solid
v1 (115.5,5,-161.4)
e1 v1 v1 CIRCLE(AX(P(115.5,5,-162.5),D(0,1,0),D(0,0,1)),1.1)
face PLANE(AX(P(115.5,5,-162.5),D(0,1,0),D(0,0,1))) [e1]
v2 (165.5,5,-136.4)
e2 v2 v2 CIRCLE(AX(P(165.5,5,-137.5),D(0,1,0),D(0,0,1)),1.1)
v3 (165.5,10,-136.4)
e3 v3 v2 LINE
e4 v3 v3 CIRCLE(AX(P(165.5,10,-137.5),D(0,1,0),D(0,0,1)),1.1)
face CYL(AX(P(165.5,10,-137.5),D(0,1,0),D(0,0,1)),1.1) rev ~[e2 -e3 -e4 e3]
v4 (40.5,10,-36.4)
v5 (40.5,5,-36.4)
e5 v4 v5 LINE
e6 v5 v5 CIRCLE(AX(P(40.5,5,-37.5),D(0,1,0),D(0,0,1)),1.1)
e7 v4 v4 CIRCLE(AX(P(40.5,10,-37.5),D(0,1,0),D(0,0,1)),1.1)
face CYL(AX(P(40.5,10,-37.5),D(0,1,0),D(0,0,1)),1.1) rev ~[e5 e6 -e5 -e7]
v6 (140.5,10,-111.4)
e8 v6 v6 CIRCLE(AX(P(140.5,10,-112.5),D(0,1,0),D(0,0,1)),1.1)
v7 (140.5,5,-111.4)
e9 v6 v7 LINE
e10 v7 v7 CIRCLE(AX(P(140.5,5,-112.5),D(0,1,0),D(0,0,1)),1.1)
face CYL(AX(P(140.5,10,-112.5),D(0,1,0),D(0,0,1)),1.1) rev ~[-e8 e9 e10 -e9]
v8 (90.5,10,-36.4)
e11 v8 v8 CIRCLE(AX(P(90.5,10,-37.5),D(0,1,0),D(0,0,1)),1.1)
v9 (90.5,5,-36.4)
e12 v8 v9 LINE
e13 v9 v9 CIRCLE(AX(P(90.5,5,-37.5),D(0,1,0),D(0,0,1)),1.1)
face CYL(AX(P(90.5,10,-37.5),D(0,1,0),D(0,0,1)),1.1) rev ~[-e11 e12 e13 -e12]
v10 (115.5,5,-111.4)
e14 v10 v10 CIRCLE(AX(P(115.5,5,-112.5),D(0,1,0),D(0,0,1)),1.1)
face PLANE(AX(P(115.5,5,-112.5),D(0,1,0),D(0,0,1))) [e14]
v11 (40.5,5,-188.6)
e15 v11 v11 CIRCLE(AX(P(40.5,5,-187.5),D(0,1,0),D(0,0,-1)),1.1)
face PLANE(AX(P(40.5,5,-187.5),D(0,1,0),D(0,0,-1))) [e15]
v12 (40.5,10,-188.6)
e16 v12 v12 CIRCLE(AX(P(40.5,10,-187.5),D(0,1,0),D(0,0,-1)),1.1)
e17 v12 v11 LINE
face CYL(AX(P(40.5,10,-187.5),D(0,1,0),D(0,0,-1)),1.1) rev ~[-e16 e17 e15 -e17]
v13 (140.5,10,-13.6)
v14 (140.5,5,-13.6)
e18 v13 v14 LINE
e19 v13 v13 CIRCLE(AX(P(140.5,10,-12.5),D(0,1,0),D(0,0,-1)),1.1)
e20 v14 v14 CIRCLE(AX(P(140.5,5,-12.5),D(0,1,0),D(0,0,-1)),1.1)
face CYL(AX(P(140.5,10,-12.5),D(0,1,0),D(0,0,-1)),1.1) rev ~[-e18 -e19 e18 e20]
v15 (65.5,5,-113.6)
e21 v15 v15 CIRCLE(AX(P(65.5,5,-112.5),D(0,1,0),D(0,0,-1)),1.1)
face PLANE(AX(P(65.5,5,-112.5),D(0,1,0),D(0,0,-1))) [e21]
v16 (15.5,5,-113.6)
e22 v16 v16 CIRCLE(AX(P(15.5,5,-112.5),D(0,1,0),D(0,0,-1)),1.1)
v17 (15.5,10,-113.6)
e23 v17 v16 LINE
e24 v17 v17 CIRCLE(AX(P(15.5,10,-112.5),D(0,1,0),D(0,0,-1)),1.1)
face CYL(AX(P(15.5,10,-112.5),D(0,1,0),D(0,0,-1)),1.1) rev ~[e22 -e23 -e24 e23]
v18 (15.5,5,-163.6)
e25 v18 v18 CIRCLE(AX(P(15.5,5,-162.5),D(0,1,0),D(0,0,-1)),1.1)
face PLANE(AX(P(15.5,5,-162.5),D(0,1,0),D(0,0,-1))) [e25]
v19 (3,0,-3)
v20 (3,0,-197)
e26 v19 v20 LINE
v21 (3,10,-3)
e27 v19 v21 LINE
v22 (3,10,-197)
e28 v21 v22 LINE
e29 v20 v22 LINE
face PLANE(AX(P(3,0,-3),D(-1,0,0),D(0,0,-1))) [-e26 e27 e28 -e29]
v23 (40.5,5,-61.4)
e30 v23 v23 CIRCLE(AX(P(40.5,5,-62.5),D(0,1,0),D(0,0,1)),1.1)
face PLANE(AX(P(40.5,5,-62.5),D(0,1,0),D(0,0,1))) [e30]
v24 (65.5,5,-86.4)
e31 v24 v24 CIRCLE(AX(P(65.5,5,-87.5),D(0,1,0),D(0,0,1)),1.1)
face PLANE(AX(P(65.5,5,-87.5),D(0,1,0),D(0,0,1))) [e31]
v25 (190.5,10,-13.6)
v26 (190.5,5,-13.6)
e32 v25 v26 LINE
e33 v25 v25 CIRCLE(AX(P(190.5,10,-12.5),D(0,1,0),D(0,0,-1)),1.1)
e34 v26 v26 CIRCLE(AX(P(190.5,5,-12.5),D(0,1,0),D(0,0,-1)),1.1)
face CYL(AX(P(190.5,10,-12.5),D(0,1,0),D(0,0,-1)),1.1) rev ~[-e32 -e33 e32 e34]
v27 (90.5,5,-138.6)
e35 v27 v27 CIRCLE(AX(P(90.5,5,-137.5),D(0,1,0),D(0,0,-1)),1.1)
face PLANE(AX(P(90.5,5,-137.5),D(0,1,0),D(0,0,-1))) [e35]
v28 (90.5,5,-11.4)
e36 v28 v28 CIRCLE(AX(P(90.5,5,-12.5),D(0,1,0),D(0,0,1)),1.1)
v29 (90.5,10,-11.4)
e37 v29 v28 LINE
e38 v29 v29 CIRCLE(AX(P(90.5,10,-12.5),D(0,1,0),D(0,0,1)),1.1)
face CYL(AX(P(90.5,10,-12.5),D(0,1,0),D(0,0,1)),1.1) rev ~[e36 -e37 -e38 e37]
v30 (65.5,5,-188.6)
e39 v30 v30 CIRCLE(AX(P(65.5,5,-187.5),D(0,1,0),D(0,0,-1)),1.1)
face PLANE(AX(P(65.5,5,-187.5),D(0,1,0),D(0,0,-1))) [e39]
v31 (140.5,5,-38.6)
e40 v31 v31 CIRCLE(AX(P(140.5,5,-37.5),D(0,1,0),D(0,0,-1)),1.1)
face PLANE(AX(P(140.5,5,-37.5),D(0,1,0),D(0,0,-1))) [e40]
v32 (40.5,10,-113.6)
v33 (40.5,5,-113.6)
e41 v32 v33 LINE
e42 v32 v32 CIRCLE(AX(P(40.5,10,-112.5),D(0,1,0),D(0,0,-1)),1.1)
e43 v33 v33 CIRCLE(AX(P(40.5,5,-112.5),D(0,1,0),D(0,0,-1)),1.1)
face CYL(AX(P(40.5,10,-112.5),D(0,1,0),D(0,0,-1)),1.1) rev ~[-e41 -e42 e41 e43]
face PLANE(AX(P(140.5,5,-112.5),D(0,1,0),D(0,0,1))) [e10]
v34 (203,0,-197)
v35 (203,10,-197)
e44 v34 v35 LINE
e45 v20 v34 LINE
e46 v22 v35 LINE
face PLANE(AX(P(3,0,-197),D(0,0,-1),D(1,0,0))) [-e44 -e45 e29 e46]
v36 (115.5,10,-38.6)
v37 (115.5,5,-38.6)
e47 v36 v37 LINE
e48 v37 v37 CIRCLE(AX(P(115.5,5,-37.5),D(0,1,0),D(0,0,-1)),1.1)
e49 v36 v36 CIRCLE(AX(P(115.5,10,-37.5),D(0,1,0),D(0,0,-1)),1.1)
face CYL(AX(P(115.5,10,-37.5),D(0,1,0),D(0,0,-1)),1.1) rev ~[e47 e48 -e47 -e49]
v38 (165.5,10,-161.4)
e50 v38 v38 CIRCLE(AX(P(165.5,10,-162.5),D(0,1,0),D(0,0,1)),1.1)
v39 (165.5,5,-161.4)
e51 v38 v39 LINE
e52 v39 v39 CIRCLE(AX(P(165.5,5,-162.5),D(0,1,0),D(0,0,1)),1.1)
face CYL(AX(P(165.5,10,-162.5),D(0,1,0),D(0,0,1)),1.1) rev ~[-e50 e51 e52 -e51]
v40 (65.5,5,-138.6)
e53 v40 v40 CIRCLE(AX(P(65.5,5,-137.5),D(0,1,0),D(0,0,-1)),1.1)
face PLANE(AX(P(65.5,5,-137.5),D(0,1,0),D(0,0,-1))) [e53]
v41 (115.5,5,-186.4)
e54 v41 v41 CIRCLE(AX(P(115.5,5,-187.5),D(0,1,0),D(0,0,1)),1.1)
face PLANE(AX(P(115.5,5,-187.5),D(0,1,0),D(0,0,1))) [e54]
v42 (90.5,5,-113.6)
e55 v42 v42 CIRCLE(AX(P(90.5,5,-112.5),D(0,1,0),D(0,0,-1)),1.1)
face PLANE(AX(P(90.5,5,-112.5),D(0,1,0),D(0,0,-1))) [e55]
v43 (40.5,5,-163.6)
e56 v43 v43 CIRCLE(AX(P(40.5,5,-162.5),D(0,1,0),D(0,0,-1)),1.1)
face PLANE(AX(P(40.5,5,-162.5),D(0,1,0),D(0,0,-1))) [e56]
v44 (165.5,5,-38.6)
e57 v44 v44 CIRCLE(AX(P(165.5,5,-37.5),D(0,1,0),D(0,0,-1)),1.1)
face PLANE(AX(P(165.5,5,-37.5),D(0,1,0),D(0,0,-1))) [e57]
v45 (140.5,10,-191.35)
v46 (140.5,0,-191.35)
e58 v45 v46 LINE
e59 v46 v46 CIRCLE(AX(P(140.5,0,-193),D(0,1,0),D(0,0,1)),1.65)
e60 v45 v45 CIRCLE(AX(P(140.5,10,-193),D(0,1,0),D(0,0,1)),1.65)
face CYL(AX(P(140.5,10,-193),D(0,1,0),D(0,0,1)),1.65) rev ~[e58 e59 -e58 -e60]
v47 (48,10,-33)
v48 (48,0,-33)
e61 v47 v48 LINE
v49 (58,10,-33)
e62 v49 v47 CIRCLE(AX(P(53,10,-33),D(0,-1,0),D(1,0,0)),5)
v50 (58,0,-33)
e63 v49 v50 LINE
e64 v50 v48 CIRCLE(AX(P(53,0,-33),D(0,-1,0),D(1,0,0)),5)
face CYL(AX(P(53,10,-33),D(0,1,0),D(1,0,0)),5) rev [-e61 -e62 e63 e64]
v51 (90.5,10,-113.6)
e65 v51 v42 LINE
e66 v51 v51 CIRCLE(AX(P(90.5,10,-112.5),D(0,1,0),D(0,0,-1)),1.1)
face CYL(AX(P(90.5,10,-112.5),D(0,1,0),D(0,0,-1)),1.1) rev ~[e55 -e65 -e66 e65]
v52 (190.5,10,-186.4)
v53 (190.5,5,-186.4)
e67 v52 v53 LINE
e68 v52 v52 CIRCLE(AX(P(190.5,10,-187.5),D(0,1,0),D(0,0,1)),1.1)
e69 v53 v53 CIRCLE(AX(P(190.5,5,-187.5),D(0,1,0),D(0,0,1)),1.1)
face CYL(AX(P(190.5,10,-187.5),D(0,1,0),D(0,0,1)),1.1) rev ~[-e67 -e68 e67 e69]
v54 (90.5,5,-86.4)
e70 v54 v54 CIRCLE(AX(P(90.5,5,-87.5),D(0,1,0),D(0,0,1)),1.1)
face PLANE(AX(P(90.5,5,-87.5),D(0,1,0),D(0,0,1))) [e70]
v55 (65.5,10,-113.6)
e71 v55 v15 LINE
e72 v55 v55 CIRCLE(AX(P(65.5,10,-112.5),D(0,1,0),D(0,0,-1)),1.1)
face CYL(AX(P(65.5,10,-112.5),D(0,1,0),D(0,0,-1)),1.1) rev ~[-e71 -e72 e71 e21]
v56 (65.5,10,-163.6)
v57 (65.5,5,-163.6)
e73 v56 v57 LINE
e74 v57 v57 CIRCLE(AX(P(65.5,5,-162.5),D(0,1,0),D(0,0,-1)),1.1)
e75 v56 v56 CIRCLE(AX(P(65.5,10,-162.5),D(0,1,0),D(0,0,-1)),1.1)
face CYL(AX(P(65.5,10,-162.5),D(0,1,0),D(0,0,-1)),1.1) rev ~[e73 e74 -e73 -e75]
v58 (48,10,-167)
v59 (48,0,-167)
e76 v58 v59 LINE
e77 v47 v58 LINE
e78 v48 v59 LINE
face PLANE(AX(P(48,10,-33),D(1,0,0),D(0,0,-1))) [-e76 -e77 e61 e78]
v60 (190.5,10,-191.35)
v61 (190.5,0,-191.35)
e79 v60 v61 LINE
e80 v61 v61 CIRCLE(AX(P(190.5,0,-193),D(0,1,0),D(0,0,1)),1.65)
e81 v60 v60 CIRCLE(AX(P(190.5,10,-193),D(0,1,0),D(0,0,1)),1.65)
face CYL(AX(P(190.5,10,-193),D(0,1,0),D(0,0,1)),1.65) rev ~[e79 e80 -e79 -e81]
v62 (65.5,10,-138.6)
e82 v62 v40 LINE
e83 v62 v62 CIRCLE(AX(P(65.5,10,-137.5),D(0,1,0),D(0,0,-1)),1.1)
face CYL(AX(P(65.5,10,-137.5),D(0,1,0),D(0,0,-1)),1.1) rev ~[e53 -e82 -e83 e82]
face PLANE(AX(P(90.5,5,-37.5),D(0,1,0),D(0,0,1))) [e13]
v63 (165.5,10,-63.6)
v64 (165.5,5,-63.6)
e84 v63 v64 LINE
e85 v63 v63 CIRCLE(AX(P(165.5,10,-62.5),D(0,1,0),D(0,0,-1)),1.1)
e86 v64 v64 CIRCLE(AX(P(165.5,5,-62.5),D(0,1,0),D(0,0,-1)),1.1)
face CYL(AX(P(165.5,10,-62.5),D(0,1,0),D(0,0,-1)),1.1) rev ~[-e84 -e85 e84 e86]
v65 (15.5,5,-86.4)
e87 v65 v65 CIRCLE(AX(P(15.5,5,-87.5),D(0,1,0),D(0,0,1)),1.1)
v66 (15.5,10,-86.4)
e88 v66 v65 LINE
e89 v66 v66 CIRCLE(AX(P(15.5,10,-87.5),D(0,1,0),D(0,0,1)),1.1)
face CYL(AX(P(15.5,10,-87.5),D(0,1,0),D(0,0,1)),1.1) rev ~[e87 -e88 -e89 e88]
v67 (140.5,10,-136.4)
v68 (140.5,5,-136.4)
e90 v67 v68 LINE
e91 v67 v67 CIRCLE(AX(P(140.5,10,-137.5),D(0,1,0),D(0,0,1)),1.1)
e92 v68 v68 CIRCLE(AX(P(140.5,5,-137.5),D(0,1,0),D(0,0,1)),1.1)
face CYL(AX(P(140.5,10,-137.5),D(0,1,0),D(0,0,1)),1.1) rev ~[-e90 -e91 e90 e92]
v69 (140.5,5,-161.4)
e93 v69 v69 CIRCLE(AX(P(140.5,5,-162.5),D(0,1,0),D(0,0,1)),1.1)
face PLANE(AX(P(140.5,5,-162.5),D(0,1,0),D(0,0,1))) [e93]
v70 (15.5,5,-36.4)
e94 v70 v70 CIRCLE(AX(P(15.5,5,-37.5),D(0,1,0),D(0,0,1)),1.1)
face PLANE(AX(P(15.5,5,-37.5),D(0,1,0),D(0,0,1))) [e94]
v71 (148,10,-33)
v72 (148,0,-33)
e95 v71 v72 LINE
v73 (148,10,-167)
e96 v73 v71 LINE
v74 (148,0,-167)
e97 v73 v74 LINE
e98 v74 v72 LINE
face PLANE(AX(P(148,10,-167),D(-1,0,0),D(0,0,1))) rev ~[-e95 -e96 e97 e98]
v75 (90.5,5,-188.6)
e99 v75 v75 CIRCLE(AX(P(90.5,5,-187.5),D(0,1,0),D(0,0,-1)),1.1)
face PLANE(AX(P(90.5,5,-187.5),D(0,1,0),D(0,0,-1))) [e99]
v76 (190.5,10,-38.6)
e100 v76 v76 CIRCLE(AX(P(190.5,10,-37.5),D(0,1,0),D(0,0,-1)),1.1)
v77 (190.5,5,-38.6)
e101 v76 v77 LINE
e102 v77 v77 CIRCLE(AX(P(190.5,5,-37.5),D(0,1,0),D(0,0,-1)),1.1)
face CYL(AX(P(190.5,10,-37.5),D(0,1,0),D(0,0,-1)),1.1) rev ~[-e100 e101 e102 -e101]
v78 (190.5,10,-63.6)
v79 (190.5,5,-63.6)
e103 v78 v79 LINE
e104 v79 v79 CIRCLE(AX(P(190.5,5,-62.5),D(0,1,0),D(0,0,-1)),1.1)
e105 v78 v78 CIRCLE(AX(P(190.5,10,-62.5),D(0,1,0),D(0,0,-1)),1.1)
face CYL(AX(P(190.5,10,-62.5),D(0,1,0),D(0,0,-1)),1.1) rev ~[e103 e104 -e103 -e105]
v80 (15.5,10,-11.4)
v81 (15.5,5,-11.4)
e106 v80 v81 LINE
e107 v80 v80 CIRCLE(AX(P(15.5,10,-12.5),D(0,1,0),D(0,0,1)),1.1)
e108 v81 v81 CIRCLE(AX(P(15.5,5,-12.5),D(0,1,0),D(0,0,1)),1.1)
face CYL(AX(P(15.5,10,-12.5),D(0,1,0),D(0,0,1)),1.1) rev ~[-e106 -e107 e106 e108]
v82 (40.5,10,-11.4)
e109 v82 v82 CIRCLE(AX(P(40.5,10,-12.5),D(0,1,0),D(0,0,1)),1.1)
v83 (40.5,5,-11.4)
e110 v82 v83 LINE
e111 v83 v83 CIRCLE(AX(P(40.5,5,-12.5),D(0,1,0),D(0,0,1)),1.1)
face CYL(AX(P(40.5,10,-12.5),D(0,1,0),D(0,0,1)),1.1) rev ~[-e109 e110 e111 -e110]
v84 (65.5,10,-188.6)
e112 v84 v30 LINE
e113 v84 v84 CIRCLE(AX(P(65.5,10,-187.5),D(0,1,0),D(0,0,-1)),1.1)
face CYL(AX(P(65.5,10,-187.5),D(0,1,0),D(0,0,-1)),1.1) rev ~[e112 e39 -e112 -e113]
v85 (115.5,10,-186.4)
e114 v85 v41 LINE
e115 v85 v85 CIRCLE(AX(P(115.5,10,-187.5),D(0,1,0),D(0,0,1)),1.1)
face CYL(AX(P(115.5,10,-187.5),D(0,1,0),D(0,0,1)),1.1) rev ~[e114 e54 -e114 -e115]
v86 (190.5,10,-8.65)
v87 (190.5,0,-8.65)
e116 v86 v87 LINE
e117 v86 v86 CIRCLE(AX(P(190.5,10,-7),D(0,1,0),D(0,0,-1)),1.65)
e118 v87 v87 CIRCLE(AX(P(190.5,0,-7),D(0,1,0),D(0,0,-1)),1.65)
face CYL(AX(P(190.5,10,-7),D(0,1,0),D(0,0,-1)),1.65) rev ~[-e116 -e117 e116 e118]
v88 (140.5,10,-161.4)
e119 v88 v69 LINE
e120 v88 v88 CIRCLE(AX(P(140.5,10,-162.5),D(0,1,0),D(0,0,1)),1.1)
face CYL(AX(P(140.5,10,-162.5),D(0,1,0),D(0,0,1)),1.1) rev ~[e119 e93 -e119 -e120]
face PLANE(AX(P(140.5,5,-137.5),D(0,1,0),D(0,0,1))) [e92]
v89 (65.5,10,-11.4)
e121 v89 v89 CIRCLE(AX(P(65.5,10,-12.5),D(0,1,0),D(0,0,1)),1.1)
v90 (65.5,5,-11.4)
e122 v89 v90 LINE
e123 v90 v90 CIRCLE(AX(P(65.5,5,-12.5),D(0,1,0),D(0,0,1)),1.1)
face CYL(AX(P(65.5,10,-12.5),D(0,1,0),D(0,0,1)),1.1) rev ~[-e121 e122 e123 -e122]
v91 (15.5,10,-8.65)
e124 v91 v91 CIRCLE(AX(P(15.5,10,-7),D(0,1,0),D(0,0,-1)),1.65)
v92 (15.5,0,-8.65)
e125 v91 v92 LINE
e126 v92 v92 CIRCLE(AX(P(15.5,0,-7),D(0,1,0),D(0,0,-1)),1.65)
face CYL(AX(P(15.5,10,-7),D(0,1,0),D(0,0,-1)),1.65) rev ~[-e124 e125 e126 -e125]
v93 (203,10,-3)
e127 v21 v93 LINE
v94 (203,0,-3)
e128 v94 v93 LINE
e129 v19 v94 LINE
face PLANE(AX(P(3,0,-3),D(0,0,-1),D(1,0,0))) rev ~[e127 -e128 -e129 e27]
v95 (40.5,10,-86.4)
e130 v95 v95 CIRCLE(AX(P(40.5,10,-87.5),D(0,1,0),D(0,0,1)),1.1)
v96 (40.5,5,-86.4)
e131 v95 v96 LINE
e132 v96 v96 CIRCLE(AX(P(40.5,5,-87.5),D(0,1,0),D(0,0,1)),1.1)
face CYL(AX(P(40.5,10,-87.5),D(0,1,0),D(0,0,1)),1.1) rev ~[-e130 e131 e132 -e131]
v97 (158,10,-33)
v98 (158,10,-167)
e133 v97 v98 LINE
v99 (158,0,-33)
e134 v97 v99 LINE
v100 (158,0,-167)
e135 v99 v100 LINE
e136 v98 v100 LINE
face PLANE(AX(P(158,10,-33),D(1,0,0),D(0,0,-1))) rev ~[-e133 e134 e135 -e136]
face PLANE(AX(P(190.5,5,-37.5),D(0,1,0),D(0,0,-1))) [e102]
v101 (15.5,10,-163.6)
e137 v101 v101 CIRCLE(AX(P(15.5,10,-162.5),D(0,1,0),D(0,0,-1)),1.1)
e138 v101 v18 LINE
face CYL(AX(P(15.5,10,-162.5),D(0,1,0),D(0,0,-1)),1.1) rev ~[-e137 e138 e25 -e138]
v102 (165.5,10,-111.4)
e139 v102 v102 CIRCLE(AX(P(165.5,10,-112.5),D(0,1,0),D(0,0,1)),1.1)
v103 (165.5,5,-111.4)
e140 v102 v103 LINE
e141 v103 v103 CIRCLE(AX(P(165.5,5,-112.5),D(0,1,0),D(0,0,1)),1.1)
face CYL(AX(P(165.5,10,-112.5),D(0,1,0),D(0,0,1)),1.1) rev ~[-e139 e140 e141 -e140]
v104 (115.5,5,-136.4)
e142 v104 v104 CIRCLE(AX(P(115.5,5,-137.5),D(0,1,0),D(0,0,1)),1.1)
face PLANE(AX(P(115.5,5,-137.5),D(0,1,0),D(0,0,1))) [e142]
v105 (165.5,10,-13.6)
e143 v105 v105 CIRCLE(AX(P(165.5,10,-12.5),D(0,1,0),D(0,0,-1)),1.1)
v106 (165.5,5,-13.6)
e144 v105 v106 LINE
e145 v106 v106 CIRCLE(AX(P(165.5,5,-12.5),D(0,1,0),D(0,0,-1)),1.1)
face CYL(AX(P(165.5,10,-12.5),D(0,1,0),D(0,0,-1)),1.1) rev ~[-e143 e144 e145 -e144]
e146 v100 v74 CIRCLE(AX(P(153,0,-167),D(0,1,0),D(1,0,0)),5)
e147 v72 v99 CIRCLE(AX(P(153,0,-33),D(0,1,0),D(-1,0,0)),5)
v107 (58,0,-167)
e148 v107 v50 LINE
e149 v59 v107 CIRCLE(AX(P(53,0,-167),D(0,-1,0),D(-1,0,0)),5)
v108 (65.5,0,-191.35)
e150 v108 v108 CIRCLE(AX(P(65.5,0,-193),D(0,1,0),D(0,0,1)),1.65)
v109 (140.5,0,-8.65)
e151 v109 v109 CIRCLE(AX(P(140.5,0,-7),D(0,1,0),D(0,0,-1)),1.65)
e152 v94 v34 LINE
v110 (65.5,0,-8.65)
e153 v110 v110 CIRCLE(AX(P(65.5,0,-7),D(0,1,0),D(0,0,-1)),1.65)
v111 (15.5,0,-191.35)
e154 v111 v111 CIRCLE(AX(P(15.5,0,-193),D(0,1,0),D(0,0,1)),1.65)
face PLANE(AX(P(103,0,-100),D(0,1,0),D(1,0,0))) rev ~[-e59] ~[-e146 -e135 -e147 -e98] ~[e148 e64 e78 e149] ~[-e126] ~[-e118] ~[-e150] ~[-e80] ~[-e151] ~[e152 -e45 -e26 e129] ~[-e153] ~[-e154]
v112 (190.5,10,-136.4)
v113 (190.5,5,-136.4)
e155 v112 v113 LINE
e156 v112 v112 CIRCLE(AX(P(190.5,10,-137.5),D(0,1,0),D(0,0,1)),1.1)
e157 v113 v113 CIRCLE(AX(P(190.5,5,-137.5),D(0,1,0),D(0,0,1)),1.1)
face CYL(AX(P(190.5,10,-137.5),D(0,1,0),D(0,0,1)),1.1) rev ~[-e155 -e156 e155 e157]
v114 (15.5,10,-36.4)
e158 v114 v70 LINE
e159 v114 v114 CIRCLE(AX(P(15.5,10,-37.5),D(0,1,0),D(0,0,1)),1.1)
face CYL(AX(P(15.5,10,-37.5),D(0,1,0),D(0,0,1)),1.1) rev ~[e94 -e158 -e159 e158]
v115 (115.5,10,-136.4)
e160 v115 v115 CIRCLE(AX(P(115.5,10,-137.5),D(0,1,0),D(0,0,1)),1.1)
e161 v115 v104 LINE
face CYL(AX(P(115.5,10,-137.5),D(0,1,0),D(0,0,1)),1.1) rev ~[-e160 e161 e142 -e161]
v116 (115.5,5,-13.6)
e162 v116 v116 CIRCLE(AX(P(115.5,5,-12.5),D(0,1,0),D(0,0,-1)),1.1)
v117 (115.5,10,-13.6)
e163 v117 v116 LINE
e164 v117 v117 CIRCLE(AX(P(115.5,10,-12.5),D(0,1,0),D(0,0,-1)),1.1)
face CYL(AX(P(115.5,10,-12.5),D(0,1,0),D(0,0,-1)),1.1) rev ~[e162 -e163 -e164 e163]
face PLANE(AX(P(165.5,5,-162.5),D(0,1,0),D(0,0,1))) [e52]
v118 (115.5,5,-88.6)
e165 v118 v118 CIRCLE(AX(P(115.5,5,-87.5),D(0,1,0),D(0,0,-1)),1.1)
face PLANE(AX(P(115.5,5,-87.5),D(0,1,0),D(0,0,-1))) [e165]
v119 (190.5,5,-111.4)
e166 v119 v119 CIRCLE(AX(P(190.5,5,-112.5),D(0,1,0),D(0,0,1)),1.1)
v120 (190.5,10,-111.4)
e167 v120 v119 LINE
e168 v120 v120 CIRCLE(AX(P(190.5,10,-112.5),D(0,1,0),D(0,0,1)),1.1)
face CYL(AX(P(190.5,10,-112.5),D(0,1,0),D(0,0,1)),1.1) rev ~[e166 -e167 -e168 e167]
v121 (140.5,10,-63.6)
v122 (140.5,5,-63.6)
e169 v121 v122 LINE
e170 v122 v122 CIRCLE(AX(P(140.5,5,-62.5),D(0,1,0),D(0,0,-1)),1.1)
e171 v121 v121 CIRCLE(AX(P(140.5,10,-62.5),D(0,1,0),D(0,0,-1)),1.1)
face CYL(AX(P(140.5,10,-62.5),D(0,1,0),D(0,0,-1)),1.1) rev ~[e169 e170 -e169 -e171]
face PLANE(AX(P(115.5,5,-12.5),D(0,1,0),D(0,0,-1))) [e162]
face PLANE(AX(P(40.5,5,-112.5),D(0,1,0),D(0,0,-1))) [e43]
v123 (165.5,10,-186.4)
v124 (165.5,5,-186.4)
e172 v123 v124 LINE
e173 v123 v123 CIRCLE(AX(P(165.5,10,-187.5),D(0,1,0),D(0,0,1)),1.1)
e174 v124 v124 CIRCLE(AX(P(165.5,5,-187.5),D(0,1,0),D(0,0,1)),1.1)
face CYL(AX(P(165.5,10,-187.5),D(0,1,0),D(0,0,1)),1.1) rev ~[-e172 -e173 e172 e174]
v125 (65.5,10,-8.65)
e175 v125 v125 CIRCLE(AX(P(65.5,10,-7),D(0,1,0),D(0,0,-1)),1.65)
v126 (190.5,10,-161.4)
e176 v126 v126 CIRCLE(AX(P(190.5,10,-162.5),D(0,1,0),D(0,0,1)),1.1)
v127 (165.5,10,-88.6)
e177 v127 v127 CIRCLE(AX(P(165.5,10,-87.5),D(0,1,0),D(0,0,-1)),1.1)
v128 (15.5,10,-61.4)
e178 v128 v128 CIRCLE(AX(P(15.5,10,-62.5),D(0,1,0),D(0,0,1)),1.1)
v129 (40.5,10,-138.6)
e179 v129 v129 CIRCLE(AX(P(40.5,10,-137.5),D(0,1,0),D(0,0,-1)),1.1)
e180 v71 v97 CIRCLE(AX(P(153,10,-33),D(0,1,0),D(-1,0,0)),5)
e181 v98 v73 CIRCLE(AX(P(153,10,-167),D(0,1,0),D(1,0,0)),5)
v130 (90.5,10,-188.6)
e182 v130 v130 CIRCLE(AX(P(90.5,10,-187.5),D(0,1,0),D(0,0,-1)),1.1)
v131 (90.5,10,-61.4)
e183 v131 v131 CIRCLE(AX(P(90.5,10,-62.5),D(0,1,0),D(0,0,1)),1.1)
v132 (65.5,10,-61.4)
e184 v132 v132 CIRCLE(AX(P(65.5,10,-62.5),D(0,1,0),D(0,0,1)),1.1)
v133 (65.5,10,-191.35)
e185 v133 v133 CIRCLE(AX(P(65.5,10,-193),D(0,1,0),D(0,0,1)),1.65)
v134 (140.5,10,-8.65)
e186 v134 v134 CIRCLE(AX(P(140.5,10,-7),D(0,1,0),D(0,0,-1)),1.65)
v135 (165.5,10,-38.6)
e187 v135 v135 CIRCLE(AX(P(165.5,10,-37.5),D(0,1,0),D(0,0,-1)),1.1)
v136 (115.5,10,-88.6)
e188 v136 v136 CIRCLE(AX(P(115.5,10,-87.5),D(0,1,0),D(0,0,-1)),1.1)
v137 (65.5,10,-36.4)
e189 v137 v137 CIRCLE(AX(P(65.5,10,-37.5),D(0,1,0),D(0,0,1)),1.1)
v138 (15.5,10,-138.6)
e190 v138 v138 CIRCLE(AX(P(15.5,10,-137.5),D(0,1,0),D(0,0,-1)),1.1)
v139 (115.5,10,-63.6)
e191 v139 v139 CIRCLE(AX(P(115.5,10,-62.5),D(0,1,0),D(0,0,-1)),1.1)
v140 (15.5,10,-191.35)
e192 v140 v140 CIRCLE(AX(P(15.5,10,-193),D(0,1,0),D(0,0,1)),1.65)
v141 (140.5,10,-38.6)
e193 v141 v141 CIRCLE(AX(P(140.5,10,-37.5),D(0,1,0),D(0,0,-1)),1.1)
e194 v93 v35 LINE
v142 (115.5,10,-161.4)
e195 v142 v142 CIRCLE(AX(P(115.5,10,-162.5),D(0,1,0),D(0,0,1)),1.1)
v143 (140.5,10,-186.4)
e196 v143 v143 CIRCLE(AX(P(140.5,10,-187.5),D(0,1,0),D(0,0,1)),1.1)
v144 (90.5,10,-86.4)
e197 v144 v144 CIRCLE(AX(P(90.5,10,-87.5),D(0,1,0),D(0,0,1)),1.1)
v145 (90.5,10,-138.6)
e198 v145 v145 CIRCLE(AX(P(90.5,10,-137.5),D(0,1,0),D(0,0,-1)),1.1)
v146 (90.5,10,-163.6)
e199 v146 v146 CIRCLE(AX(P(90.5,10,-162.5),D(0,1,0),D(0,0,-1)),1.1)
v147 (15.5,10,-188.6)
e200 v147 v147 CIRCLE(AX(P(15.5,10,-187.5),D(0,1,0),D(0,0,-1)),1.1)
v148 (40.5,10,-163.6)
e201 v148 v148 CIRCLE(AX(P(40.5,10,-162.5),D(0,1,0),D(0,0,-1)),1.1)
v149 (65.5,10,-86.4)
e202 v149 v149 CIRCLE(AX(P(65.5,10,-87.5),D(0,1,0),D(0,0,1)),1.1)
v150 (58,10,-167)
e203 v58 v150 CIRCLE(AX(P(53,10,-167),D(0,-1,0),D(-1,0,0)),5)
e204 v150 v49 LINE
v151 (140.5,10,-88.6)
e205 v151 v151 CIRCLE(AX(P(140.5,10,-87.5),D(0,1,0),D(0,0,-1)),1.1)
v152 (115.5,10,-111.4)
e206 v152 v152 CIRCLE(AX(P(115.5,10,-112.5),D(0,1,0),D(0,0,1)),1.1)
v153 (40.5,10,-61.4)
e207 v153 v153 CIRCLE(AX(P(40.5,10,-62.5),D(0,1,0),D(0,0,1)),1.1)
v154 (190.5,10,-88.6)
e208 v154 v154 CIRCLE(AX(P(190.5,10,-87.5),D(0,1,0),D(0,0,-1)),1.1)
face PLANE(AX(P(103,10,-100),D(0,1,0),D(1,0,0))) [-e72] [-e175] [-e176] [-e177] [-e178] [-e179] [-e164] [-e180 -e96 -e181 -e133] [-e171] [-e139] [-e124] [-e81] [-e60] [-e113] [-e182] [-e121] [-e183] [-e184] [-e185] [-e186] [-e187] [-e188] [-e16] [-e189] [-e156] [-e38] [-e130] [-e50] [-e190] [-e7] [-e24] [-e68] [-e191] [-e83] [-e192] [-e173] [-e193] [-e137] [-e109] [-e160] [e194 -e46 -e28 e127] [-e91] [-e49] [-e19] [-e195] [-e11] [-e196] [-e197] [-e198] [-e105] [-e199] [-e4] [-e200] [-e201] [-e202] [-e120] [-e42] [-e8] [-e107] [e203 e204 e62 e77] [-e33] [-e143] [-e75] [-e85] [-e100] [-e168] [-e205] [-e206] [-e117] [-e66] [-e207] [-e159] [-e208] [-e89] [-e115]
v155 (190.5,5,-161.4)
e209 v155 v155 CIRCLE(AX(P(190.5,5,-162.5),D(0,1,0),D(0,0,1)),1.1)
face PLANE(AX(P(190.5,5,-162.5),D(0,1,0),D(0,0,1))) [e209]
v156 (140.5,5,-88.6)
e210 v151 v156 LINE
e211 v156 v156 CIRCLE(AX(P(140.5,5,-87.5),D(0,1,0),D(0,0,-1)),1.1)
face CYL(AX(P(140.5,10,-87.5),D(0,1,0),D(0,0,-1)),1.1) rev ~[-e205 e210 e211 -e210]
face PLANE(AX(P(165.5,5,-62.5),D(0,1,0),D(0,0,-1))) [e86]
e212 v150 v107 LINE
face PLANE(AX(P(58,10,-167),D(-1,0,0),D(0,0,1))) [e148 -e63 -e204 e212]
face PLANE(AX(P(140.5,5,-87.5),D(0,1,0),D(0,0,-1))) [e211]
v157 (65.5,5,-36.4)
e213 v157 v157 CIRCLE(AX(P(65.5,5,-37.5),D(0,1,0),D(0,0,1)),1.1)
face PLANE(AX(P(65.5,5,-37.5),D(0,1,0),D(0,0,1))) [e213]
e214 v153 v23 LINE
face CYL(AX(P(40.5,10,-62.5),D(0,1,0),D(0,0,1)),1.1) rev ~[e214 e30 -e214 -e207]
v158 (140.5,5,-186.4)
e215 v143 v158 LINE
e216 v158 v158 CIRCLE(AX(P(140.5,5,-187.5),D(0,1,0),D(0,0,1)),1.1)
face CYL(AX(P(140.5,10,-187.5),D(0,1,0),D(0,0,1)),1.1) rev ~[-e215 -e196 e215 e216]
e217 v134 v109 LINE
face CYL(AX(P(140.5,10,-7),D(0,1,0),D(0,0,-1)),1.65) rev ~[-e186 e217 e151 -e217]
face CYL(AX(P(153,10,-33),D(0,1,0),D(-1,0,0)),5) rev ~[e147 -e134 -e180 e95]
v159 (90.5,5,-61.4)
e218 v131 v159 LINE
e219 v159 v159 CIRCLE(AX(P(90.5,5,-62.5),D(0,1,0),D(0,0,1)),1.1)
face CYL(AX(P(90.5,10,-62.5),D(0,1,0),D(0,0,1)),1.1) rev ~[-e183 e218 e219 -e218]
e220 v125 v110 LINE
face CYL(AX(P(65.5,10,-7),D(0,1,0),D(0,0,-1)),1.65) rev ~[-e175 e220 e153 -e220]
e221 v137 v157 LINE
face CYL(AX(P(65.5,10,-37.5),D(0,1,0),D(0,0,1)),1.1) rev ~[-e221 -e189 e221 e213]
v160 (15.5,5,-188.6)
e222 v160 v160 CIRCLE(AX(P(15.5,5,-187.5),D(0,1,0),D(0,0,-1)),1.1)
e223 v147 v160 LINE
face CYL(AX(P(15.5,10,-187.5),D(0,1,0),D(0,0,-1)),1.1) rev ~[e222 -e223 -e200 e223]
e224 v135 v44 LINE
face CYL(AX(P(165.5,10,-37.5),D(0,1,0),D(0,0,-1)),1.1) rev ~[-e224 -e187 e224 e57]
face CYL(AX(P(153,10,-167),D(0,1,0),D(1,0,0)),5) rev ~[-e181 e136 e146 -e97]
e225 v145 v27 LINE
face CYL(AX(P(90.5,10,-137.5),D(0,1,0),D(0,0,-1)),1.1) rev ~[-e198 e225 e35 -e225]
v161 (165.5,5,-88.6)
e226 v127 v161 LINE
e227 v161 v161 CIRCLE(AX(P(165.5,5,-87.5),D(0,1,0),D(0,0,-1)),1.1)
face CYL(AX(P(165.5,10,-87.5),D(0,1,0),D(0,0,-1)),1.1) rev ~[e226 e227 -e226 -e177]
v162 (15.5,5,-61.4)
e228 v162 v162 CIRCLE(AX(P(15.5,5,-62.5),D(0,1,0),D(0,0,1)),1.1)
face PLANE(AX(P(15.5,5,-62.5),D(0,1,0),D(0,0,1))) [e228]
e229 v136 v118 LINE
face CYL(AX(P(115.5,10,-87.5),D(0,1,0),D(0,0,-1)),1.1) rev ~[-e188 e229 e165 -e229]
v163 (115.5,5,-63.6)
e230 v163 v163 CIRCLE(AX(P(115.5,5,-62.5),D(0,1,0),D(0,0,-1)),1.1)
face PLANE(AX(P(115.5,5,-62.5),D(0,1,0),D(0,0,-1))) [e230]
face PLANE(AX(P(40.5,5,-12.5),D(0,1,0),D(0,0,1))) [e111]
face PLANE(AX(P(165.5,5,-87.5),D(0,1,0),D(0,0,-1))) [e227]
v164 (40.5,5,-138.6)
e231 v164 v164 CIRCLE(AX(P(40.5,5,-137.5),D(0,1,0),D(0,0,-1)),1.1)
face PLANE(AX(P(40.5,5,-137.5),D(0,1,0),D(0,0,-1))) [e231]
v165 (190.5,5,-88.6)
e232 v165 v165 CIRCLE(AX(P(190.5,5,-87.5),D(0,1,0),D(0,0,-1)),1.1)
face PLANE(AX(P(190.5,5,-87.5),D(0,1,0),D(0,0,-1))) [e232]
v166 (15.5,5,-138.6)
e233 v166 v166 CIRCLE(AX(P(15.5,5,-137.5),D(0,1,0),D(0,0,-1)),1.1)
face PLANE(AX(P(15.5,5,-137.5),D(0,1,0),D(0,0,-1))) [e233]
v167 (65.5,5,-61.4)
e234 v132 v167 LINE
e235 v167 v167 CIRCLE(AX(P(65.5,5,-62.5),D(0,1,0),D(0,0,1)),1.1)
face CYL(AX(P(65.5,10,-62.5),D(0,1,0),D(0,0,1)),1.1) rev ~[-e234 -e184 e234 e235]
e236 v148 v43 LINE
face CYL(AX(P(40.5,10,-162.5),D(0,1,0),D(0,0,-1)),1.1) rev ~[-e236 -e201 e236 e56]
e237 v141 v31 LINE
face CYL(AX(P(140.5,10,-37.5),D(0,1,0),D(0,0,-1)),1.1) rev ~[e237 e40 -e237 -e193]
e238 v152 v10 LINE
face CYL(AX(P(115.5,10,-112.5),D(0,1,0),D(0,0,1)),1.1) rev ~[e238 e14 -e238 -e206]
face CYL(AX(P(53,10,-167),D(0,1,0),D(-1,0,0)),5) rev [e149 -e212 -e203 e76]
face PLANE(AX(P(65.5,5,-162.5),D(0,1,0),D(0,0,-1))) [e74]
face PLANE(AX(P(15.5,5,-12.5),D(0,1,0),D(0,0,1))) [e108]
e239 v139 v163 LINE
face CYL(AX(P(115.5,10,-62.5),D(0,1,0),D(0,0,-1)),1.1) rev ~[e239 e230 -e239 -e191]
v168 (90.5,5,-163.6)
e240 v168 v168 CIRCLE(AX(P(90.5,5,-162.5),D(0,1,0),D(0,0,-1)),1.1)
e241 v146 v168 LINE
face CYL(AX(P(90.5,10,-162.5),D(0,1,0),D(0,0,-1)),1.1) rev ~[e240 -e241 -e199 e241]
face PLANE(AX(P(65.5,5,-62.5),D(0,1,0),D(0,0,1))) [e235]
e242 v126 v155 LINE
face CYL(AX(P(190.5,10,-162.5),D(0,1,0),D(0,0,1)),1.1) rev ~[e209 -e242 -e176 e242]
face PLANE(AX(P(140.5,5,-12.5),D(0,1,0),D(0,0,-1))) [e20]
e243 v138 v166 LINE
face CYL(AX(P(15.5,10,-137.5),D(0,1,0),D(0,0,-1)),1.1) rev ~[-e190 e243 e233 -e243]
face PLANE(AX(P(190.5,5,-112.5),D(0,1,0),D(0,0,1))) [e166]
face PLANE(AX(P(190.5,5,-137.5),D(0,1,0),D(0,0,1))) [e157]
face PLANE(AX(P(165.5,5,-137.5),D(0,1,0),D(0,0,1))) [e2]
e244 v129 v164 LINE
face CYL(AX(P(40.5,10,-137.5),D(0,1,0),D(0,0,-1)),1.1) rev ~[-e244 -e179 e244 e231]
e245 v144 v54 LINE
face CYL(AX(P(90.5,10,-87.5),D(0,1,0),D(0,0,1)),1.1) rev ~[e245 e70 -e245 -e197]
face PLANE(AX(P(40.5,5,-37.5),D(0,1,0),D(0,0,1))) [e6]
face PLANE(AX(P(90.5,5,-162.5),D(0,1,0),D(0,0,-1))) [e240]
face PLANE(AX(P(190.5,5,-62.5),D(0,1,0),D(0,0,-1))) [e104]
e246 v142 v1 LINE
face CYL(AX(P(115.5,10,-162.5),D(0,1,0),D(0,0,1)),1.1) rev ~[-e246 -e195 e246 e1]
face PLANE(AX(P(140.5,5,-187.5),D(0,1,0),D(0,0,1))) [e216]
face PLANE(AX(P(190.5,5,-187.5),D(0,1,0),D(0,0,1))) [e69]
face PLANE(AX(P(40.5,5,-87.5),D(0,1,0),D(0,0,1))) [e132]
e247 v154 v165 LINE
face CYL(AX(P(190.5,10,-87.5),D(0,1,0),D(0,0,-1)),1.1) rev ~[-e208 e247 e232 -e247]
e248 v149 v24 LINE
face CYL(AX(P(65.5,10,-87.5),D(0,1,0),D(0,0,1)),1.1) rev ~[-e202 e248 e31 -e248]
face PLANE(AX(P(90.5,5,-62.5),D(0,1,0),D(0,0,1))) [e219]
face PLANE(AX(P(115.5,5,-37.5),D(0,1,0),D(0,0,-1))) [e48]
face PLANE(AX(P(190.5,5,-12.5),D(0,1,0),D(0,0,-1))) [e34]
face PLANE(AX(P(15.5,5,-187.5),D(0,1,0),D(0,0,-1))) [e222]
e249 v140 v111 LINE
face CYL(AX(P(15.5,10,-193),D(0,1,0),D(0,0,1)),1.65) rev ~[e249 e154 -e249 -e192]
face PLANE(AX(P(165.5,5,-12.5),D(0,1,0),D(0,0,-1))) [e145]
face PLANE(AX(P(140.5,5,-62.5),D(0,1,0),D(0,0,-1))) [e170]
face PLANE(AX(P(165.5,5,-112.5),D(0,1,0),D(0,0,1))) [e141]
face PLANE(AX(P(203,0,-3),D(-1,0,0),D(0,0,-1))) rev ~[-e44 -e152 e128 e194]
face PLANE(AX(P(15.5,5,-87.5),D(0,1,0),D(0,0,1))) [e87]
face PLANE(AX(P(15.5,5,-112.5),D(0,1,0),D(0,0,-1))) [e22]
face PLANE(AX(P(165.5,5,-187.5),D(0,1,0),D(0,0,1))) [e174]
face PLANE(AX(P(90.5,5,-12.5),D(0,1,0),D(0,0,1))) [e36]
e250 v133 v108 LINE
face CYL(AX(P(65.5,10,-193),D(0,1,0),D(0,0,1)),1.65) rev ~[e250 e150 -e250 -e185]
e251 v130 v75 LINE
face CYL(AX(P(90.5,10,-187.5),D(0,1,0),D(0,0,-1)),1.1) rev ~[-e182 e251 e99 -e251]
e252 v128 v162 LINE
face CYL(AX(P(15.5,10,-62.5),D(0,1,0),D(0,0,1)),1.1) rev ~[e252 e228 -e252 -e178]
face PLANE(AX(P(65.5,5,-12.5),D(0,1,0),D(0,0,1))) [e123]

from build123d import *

# Parameters (mm, degrees)
SKETCH1_W           = 200
SKETCH1_H           = 194
BOSS_EXTRUDE2_DEPTH = 10
SKETCH2_R           = 1.1
CUT_EXTRUDE1_DEPTH  = 5
SKETCH5_R           = 1.65
CUT_EXTRUDE3_DEPTH  = 284.051232112
CUT_EXTRUDE4_DEPTH  = 10


with BuildPart() as part:
    # Sketch1 → Boss-Extrude2 (new body)
    with BuildSketch(Plane(origin=(0, 0, 0), x_dir=(1, 0, 0), z_dir=(0, 1, 0))):
        with Locations((103, 100)):
            Rectangle(SKETCH1_W, SKETCH1_H)
    extrude(amount=BOSS_EXTRUDE2_DEPTH)

    # Sketch2 → Cut-Extrude1 (cut)
    with BuildSketch(Plane(origin=(0, 10, 0), x_dir=(1, 0, 0), z_dir=(0, 1, 0))):
        with Locations(Location((115.5, 187.5, 0), (0, 0, 270))):
            Circle(SKETCH2_R)
        with Locations(Location((140.5, 187.5, 0), (0, 0, 270))):
            Circle(SKETCH2_R)
        with Locations(Location((165.5, 187.5, 0), (0, 0, 270))):
            Circle(SKETCH2_R)
        with Locations(Location((190.5, 187.5, 0), (0, 0, 270))):
            Circle(SKETCH2_R)
        with Locations(Location((115.5, 162.5, 0), (0, 0, 270))):
            Circle(SKETCH2_R)
        with Locations(Location((140.5, 162.5, 0), (0, 0, 270))):
            Circle(SKETCH2_R)
        with Locations(Location((165.5, 162.5, 0), (0, 0, 270))):
            Circle(SKETCH2_R)
        with Locations(Location((190.5, 162.5, 0), (0, 0, 270))):
            Circle(SKETCH2_R)
        with Locations(Location((115.5, 137.5, 0), (0, 0, 270))):
            Circle(SKETCH2_R)
        with Locations(Location((140.5, 137.5, 0), (0, 0, 270))):
            Circle(SKETCH2_R)
        with Locations(Location((165.5, 137.5, 0), (0, 0, 270))):
            Circle(SKETCH2_R)
        with Locations(Location((190.5, 137.5, 0), (0, 0, 270))):
            Circle(SKETCH2_R)
        with Locations(Location((115.5, 112.5, 0), (0, 0, 270))):
            Circle(SKETCH2_R)
        with Locations(Location((140.5, 112.5, 0), (0, 0, 270))):
            Circle(SKETCH2_R)
        with Locations(Location((165.5, 112.5, 0), (0, 0, 270))):
            Circle(SKETCH2_R)
        with Locations(Location((190.5, 112.5, 0), (0, 0, 270))):
            Circle(SKETCH2_R)
        with Locations(Location((65.5, 112.5, 0), (0, 0, 90))):
            Circle(SKETCH2_R)
        with Locations(Location((90.5, 112.5, 0), (0, 0, 90))):
            Circle(SKETCH2_R)
        with Locations(Location((40.5, 112.5, 0), (0, 0, 90))):
            Circle(SKETCH2_R)
        with Locations(Location((15.5, 112.5, 0), (0, 0, 90))):
            Circle(SKETCH2_R)
        with Locations(Location((15.5, 137.5, 0), (0, 0, 90))):
            Circle(SKETCH2_R)
        with Locations(Location((40.5, 137.5, 0), (0, 0, 90))):
            Circle(SKETCH2_R)
        with Locations(Location((65.5, 137.5, 0), (0, 0, 90))):
            Circle(SKETCH2_R)
        with Locations(Location((90.5, 137.5, 0), (0, 0, 90))):
            Circle(SKETCH2_R)
        with Locations(Location((65.5, 162.5, 0), (0, 0, 90))):
            Circle(SKETCH2_R)
        with Locations(Location((90.5, 162.5, 0), (0, 0, 90))):
            Circle(SKETCH2_R)
        with Locations(Location((40.5, 162.5, 0), (0, 0, 90))):
            Circle(SKETCH2_R)
        with Locations(Location((15.5, 162.5, 0), (0, 0, 90))):
            Circle(SKETCH2_R)
        with Locations(Location((15.5, 187.5, 0), (0, 0, 90))):
            Circle(SKETCH2_R)
        with Locations(Location((40.5, 187.5, 0), (0, 0, 90))):
            Circle(SKETCH2_R)
        with Locations(Location((65.5, 187.5, 0), (0, 0, 90))):
            Circle(SKETCH2_R)
        with Locations(Location((90.5, 187.5, 0), (0, 0, 90))):
            Circle(SKETCH2_R)
        with Locations(Location((190.5, 87.5, 0), (0, 0, 90))):
            Circle(SKETCH2_R)
        with Locations(Location((165.5, 87.5, 0), (0, 0, 90))):
            Circle(SKETCH2_R)
        with Locations(Location((140.5, 87.5, 0), (0, 0, 90))):
            Circle(SKETCH2_R)
        with Locations(Location((115.5, 87.5, 0), (0, 0, 90))):
            Circle(SKETCH2_R)
        with Locations(Location((190.5, 62.5, 0), (0, 0, 90))):
            Circle(SKETCH2_R)
        with Locations(Location((165.5, 62.5, 0), (0, 0, 90))):
            Circle(SKETCH2_R)
        with Locations(Location((140.5, 62.5, 0), (0, 0, 90))):
            Circle(SKETCH2_R)
        with Locations(Location((115.5, 62.5, 0), (0, 0, 90))):
            Circle(SKETCH2_R)
        with Locations(Location((190.5, 37.5, 0), (0, 0, 90))):
            Circle(SKETCH2_R)
        with Locations(Location((165.5, 37.5, 0), (0, 0, 90))):
            Circle(SKETCH2_R)
        with Locations(Location((140.5, 37.5, 0), (0, 0, 90))):
            Circle(SKETCH2_R)
        with Locations(Location((115.5, 37.5, 0), (0, 0, 90))):
            Circle(SKETCH2_R)
        with Locations(Location((190.5, 12.5, 0), (0, 0, 90))):
            Circle(SKETCH2_R)
        with Locations(Location((165.5, 12.5, 0), (0, 0, 90))):
            Circle(SKETCH2_R)
        with Locations(Location((140.5, 12.5, 0), (0, 0, 90))):
            Circle(SKETCH2_R)
        with Locations(Location((115.5, 12.5, 0), (0, 0, 90))):
            Circle(SKETCH2_R)
        with Locations(Location((90.5, 12.5, 0), (0, 0, 270))):
            Circle(SKETCH2_R)
        with Locations(Location((65.5, 12.5, 0), (0, 0, 270))):
            Circle(SKETCH2_R)
        with Locations(Location((40.5, 12.5, 0), (0, 0, 270))):
            Circle(SKETCH2_R)
        with Locations(Location((15.5, 12.5, 0), (0, 0, 270))):
            Circle(SKETCH2_R)
        with Locations(Location((90.5, 37.5, 0), (0, 0, 270))):
            Circle(SKETCH2_R)
        with Locations(Location((65.5, 37.5, 0), (0, 0, 270))):
            Circle(SKETCH2_R)
        with Locations(Location((40.5, 37.5, 0), (0, 0, 270))):
            Circle(SKETCH2_R)
        with Locations(Location((15.5, 37.5, 0), (0, 0, 270))):
            Circle(SKETCH2_R)
        with Locations(Location((90.5, 62.5, 0), (0, 0, 270))):
            Circle(SKETCH2_R)
        with Locations(Location((65.5, 62.5, 0), (0, 0, 270))):
            Circle(SKETCH2_R)
        with Locations(Location((40.5, 62.5, 0), (0, 0, 270))):
            Circle(SKETCH2_R)
        with Locations(Location((15.5, 62.5, 0), (0, 0, 270))):
            Circle(SKETCH2_R)
        with Locations(Location((90.5, 87.5, 0), (0, 0, 270))):
            Circle(SKETCH2_R)
        with Locations(Location((65.5, 87.5, 0), (0, 0, 270))):
            Circle(SKETCH2_R)
        with Locations(Location((40.5, 87.5, 0), (0, 0, 270))):
            Circle(SKETCH2_R)
        with Locations(Location((15.5, 87.5, 0), (0, 0, 270))):
            Circle(SKETCH2_R)
    extrude(amount=-CUT_EXTRUDE1_DEPTH, mode=Mode.SUBTRACT)

    # Sketch5 → Cut-Extrude3 (cut, through all)
    with BuildSketch(Plane(origin=(0, 10, 0), x_dir=(1, 0, 0), z_dir=(0, 1, 0))):
        with Locations(Location((15.5, 193, 0), (0, 0, 270))):
            Circle(SKETCH5_R)
        with Locations(Location((65.5, 193, 0), (0, 0, 270))):
            Circle(SKETCH5_R)
        with Locations(Location((140.5, 193, 0), (0, 0, 270))):
            Circle(SKETCH5_R)
        with Locations(Location((190.5, 193, 0), (0, 0, 270))):
            Circle(SKETCH5_R)
        with Locations(Location((190.5, 7, 0), (0, 0, 90))):
            Circle(SKETCH5_R)
        with Locations(Location((140.5, 7, 0), (0, 0, 90))):
            Circle(SKETCH5_R)
        with Locations(Location((65.5, 7, 0), (0, 0, 90))):
            Circle(SKETCH5_R)
        with Locations(Location((15.5, 7, 0), (0, 0, 90))):
            Circle(SKETCH5_R)
    extrude(amount=-CUT_EXTRUDE3_DEPTH, mode=Mode.SUBTRACT)

    # Sketch6 → Cut-Extrude4 (cut)
    with BuildSketch(Plane(origin=(0, 10, 0), x_dir=(1, 0, 0), z_dir=(0, 1, 0))):
        with BuildLine():
            Line((48, 33), (48, 167))
            ThreePointArc((48, 167), (53, 172), (58, 167))
            Line((58, 167), (58, 33))
            ThreePointArc((58, 33), (53, 28), (48, 33))
        make_face()
        with BuildLine():
            Line((158, 33), (158, 167))
            ThreePointArc((158, 167), (153, 172), (148, 167))
            Line((148, 167), (148, 33))
            ThreePointArc((148, 33), (153, 28), (158, 33))
        make_face()
    extrude(amount=-CUT_EXTRUDE4_DEPTH, mode=Mode.SUBTRACT)


solid = part.part
